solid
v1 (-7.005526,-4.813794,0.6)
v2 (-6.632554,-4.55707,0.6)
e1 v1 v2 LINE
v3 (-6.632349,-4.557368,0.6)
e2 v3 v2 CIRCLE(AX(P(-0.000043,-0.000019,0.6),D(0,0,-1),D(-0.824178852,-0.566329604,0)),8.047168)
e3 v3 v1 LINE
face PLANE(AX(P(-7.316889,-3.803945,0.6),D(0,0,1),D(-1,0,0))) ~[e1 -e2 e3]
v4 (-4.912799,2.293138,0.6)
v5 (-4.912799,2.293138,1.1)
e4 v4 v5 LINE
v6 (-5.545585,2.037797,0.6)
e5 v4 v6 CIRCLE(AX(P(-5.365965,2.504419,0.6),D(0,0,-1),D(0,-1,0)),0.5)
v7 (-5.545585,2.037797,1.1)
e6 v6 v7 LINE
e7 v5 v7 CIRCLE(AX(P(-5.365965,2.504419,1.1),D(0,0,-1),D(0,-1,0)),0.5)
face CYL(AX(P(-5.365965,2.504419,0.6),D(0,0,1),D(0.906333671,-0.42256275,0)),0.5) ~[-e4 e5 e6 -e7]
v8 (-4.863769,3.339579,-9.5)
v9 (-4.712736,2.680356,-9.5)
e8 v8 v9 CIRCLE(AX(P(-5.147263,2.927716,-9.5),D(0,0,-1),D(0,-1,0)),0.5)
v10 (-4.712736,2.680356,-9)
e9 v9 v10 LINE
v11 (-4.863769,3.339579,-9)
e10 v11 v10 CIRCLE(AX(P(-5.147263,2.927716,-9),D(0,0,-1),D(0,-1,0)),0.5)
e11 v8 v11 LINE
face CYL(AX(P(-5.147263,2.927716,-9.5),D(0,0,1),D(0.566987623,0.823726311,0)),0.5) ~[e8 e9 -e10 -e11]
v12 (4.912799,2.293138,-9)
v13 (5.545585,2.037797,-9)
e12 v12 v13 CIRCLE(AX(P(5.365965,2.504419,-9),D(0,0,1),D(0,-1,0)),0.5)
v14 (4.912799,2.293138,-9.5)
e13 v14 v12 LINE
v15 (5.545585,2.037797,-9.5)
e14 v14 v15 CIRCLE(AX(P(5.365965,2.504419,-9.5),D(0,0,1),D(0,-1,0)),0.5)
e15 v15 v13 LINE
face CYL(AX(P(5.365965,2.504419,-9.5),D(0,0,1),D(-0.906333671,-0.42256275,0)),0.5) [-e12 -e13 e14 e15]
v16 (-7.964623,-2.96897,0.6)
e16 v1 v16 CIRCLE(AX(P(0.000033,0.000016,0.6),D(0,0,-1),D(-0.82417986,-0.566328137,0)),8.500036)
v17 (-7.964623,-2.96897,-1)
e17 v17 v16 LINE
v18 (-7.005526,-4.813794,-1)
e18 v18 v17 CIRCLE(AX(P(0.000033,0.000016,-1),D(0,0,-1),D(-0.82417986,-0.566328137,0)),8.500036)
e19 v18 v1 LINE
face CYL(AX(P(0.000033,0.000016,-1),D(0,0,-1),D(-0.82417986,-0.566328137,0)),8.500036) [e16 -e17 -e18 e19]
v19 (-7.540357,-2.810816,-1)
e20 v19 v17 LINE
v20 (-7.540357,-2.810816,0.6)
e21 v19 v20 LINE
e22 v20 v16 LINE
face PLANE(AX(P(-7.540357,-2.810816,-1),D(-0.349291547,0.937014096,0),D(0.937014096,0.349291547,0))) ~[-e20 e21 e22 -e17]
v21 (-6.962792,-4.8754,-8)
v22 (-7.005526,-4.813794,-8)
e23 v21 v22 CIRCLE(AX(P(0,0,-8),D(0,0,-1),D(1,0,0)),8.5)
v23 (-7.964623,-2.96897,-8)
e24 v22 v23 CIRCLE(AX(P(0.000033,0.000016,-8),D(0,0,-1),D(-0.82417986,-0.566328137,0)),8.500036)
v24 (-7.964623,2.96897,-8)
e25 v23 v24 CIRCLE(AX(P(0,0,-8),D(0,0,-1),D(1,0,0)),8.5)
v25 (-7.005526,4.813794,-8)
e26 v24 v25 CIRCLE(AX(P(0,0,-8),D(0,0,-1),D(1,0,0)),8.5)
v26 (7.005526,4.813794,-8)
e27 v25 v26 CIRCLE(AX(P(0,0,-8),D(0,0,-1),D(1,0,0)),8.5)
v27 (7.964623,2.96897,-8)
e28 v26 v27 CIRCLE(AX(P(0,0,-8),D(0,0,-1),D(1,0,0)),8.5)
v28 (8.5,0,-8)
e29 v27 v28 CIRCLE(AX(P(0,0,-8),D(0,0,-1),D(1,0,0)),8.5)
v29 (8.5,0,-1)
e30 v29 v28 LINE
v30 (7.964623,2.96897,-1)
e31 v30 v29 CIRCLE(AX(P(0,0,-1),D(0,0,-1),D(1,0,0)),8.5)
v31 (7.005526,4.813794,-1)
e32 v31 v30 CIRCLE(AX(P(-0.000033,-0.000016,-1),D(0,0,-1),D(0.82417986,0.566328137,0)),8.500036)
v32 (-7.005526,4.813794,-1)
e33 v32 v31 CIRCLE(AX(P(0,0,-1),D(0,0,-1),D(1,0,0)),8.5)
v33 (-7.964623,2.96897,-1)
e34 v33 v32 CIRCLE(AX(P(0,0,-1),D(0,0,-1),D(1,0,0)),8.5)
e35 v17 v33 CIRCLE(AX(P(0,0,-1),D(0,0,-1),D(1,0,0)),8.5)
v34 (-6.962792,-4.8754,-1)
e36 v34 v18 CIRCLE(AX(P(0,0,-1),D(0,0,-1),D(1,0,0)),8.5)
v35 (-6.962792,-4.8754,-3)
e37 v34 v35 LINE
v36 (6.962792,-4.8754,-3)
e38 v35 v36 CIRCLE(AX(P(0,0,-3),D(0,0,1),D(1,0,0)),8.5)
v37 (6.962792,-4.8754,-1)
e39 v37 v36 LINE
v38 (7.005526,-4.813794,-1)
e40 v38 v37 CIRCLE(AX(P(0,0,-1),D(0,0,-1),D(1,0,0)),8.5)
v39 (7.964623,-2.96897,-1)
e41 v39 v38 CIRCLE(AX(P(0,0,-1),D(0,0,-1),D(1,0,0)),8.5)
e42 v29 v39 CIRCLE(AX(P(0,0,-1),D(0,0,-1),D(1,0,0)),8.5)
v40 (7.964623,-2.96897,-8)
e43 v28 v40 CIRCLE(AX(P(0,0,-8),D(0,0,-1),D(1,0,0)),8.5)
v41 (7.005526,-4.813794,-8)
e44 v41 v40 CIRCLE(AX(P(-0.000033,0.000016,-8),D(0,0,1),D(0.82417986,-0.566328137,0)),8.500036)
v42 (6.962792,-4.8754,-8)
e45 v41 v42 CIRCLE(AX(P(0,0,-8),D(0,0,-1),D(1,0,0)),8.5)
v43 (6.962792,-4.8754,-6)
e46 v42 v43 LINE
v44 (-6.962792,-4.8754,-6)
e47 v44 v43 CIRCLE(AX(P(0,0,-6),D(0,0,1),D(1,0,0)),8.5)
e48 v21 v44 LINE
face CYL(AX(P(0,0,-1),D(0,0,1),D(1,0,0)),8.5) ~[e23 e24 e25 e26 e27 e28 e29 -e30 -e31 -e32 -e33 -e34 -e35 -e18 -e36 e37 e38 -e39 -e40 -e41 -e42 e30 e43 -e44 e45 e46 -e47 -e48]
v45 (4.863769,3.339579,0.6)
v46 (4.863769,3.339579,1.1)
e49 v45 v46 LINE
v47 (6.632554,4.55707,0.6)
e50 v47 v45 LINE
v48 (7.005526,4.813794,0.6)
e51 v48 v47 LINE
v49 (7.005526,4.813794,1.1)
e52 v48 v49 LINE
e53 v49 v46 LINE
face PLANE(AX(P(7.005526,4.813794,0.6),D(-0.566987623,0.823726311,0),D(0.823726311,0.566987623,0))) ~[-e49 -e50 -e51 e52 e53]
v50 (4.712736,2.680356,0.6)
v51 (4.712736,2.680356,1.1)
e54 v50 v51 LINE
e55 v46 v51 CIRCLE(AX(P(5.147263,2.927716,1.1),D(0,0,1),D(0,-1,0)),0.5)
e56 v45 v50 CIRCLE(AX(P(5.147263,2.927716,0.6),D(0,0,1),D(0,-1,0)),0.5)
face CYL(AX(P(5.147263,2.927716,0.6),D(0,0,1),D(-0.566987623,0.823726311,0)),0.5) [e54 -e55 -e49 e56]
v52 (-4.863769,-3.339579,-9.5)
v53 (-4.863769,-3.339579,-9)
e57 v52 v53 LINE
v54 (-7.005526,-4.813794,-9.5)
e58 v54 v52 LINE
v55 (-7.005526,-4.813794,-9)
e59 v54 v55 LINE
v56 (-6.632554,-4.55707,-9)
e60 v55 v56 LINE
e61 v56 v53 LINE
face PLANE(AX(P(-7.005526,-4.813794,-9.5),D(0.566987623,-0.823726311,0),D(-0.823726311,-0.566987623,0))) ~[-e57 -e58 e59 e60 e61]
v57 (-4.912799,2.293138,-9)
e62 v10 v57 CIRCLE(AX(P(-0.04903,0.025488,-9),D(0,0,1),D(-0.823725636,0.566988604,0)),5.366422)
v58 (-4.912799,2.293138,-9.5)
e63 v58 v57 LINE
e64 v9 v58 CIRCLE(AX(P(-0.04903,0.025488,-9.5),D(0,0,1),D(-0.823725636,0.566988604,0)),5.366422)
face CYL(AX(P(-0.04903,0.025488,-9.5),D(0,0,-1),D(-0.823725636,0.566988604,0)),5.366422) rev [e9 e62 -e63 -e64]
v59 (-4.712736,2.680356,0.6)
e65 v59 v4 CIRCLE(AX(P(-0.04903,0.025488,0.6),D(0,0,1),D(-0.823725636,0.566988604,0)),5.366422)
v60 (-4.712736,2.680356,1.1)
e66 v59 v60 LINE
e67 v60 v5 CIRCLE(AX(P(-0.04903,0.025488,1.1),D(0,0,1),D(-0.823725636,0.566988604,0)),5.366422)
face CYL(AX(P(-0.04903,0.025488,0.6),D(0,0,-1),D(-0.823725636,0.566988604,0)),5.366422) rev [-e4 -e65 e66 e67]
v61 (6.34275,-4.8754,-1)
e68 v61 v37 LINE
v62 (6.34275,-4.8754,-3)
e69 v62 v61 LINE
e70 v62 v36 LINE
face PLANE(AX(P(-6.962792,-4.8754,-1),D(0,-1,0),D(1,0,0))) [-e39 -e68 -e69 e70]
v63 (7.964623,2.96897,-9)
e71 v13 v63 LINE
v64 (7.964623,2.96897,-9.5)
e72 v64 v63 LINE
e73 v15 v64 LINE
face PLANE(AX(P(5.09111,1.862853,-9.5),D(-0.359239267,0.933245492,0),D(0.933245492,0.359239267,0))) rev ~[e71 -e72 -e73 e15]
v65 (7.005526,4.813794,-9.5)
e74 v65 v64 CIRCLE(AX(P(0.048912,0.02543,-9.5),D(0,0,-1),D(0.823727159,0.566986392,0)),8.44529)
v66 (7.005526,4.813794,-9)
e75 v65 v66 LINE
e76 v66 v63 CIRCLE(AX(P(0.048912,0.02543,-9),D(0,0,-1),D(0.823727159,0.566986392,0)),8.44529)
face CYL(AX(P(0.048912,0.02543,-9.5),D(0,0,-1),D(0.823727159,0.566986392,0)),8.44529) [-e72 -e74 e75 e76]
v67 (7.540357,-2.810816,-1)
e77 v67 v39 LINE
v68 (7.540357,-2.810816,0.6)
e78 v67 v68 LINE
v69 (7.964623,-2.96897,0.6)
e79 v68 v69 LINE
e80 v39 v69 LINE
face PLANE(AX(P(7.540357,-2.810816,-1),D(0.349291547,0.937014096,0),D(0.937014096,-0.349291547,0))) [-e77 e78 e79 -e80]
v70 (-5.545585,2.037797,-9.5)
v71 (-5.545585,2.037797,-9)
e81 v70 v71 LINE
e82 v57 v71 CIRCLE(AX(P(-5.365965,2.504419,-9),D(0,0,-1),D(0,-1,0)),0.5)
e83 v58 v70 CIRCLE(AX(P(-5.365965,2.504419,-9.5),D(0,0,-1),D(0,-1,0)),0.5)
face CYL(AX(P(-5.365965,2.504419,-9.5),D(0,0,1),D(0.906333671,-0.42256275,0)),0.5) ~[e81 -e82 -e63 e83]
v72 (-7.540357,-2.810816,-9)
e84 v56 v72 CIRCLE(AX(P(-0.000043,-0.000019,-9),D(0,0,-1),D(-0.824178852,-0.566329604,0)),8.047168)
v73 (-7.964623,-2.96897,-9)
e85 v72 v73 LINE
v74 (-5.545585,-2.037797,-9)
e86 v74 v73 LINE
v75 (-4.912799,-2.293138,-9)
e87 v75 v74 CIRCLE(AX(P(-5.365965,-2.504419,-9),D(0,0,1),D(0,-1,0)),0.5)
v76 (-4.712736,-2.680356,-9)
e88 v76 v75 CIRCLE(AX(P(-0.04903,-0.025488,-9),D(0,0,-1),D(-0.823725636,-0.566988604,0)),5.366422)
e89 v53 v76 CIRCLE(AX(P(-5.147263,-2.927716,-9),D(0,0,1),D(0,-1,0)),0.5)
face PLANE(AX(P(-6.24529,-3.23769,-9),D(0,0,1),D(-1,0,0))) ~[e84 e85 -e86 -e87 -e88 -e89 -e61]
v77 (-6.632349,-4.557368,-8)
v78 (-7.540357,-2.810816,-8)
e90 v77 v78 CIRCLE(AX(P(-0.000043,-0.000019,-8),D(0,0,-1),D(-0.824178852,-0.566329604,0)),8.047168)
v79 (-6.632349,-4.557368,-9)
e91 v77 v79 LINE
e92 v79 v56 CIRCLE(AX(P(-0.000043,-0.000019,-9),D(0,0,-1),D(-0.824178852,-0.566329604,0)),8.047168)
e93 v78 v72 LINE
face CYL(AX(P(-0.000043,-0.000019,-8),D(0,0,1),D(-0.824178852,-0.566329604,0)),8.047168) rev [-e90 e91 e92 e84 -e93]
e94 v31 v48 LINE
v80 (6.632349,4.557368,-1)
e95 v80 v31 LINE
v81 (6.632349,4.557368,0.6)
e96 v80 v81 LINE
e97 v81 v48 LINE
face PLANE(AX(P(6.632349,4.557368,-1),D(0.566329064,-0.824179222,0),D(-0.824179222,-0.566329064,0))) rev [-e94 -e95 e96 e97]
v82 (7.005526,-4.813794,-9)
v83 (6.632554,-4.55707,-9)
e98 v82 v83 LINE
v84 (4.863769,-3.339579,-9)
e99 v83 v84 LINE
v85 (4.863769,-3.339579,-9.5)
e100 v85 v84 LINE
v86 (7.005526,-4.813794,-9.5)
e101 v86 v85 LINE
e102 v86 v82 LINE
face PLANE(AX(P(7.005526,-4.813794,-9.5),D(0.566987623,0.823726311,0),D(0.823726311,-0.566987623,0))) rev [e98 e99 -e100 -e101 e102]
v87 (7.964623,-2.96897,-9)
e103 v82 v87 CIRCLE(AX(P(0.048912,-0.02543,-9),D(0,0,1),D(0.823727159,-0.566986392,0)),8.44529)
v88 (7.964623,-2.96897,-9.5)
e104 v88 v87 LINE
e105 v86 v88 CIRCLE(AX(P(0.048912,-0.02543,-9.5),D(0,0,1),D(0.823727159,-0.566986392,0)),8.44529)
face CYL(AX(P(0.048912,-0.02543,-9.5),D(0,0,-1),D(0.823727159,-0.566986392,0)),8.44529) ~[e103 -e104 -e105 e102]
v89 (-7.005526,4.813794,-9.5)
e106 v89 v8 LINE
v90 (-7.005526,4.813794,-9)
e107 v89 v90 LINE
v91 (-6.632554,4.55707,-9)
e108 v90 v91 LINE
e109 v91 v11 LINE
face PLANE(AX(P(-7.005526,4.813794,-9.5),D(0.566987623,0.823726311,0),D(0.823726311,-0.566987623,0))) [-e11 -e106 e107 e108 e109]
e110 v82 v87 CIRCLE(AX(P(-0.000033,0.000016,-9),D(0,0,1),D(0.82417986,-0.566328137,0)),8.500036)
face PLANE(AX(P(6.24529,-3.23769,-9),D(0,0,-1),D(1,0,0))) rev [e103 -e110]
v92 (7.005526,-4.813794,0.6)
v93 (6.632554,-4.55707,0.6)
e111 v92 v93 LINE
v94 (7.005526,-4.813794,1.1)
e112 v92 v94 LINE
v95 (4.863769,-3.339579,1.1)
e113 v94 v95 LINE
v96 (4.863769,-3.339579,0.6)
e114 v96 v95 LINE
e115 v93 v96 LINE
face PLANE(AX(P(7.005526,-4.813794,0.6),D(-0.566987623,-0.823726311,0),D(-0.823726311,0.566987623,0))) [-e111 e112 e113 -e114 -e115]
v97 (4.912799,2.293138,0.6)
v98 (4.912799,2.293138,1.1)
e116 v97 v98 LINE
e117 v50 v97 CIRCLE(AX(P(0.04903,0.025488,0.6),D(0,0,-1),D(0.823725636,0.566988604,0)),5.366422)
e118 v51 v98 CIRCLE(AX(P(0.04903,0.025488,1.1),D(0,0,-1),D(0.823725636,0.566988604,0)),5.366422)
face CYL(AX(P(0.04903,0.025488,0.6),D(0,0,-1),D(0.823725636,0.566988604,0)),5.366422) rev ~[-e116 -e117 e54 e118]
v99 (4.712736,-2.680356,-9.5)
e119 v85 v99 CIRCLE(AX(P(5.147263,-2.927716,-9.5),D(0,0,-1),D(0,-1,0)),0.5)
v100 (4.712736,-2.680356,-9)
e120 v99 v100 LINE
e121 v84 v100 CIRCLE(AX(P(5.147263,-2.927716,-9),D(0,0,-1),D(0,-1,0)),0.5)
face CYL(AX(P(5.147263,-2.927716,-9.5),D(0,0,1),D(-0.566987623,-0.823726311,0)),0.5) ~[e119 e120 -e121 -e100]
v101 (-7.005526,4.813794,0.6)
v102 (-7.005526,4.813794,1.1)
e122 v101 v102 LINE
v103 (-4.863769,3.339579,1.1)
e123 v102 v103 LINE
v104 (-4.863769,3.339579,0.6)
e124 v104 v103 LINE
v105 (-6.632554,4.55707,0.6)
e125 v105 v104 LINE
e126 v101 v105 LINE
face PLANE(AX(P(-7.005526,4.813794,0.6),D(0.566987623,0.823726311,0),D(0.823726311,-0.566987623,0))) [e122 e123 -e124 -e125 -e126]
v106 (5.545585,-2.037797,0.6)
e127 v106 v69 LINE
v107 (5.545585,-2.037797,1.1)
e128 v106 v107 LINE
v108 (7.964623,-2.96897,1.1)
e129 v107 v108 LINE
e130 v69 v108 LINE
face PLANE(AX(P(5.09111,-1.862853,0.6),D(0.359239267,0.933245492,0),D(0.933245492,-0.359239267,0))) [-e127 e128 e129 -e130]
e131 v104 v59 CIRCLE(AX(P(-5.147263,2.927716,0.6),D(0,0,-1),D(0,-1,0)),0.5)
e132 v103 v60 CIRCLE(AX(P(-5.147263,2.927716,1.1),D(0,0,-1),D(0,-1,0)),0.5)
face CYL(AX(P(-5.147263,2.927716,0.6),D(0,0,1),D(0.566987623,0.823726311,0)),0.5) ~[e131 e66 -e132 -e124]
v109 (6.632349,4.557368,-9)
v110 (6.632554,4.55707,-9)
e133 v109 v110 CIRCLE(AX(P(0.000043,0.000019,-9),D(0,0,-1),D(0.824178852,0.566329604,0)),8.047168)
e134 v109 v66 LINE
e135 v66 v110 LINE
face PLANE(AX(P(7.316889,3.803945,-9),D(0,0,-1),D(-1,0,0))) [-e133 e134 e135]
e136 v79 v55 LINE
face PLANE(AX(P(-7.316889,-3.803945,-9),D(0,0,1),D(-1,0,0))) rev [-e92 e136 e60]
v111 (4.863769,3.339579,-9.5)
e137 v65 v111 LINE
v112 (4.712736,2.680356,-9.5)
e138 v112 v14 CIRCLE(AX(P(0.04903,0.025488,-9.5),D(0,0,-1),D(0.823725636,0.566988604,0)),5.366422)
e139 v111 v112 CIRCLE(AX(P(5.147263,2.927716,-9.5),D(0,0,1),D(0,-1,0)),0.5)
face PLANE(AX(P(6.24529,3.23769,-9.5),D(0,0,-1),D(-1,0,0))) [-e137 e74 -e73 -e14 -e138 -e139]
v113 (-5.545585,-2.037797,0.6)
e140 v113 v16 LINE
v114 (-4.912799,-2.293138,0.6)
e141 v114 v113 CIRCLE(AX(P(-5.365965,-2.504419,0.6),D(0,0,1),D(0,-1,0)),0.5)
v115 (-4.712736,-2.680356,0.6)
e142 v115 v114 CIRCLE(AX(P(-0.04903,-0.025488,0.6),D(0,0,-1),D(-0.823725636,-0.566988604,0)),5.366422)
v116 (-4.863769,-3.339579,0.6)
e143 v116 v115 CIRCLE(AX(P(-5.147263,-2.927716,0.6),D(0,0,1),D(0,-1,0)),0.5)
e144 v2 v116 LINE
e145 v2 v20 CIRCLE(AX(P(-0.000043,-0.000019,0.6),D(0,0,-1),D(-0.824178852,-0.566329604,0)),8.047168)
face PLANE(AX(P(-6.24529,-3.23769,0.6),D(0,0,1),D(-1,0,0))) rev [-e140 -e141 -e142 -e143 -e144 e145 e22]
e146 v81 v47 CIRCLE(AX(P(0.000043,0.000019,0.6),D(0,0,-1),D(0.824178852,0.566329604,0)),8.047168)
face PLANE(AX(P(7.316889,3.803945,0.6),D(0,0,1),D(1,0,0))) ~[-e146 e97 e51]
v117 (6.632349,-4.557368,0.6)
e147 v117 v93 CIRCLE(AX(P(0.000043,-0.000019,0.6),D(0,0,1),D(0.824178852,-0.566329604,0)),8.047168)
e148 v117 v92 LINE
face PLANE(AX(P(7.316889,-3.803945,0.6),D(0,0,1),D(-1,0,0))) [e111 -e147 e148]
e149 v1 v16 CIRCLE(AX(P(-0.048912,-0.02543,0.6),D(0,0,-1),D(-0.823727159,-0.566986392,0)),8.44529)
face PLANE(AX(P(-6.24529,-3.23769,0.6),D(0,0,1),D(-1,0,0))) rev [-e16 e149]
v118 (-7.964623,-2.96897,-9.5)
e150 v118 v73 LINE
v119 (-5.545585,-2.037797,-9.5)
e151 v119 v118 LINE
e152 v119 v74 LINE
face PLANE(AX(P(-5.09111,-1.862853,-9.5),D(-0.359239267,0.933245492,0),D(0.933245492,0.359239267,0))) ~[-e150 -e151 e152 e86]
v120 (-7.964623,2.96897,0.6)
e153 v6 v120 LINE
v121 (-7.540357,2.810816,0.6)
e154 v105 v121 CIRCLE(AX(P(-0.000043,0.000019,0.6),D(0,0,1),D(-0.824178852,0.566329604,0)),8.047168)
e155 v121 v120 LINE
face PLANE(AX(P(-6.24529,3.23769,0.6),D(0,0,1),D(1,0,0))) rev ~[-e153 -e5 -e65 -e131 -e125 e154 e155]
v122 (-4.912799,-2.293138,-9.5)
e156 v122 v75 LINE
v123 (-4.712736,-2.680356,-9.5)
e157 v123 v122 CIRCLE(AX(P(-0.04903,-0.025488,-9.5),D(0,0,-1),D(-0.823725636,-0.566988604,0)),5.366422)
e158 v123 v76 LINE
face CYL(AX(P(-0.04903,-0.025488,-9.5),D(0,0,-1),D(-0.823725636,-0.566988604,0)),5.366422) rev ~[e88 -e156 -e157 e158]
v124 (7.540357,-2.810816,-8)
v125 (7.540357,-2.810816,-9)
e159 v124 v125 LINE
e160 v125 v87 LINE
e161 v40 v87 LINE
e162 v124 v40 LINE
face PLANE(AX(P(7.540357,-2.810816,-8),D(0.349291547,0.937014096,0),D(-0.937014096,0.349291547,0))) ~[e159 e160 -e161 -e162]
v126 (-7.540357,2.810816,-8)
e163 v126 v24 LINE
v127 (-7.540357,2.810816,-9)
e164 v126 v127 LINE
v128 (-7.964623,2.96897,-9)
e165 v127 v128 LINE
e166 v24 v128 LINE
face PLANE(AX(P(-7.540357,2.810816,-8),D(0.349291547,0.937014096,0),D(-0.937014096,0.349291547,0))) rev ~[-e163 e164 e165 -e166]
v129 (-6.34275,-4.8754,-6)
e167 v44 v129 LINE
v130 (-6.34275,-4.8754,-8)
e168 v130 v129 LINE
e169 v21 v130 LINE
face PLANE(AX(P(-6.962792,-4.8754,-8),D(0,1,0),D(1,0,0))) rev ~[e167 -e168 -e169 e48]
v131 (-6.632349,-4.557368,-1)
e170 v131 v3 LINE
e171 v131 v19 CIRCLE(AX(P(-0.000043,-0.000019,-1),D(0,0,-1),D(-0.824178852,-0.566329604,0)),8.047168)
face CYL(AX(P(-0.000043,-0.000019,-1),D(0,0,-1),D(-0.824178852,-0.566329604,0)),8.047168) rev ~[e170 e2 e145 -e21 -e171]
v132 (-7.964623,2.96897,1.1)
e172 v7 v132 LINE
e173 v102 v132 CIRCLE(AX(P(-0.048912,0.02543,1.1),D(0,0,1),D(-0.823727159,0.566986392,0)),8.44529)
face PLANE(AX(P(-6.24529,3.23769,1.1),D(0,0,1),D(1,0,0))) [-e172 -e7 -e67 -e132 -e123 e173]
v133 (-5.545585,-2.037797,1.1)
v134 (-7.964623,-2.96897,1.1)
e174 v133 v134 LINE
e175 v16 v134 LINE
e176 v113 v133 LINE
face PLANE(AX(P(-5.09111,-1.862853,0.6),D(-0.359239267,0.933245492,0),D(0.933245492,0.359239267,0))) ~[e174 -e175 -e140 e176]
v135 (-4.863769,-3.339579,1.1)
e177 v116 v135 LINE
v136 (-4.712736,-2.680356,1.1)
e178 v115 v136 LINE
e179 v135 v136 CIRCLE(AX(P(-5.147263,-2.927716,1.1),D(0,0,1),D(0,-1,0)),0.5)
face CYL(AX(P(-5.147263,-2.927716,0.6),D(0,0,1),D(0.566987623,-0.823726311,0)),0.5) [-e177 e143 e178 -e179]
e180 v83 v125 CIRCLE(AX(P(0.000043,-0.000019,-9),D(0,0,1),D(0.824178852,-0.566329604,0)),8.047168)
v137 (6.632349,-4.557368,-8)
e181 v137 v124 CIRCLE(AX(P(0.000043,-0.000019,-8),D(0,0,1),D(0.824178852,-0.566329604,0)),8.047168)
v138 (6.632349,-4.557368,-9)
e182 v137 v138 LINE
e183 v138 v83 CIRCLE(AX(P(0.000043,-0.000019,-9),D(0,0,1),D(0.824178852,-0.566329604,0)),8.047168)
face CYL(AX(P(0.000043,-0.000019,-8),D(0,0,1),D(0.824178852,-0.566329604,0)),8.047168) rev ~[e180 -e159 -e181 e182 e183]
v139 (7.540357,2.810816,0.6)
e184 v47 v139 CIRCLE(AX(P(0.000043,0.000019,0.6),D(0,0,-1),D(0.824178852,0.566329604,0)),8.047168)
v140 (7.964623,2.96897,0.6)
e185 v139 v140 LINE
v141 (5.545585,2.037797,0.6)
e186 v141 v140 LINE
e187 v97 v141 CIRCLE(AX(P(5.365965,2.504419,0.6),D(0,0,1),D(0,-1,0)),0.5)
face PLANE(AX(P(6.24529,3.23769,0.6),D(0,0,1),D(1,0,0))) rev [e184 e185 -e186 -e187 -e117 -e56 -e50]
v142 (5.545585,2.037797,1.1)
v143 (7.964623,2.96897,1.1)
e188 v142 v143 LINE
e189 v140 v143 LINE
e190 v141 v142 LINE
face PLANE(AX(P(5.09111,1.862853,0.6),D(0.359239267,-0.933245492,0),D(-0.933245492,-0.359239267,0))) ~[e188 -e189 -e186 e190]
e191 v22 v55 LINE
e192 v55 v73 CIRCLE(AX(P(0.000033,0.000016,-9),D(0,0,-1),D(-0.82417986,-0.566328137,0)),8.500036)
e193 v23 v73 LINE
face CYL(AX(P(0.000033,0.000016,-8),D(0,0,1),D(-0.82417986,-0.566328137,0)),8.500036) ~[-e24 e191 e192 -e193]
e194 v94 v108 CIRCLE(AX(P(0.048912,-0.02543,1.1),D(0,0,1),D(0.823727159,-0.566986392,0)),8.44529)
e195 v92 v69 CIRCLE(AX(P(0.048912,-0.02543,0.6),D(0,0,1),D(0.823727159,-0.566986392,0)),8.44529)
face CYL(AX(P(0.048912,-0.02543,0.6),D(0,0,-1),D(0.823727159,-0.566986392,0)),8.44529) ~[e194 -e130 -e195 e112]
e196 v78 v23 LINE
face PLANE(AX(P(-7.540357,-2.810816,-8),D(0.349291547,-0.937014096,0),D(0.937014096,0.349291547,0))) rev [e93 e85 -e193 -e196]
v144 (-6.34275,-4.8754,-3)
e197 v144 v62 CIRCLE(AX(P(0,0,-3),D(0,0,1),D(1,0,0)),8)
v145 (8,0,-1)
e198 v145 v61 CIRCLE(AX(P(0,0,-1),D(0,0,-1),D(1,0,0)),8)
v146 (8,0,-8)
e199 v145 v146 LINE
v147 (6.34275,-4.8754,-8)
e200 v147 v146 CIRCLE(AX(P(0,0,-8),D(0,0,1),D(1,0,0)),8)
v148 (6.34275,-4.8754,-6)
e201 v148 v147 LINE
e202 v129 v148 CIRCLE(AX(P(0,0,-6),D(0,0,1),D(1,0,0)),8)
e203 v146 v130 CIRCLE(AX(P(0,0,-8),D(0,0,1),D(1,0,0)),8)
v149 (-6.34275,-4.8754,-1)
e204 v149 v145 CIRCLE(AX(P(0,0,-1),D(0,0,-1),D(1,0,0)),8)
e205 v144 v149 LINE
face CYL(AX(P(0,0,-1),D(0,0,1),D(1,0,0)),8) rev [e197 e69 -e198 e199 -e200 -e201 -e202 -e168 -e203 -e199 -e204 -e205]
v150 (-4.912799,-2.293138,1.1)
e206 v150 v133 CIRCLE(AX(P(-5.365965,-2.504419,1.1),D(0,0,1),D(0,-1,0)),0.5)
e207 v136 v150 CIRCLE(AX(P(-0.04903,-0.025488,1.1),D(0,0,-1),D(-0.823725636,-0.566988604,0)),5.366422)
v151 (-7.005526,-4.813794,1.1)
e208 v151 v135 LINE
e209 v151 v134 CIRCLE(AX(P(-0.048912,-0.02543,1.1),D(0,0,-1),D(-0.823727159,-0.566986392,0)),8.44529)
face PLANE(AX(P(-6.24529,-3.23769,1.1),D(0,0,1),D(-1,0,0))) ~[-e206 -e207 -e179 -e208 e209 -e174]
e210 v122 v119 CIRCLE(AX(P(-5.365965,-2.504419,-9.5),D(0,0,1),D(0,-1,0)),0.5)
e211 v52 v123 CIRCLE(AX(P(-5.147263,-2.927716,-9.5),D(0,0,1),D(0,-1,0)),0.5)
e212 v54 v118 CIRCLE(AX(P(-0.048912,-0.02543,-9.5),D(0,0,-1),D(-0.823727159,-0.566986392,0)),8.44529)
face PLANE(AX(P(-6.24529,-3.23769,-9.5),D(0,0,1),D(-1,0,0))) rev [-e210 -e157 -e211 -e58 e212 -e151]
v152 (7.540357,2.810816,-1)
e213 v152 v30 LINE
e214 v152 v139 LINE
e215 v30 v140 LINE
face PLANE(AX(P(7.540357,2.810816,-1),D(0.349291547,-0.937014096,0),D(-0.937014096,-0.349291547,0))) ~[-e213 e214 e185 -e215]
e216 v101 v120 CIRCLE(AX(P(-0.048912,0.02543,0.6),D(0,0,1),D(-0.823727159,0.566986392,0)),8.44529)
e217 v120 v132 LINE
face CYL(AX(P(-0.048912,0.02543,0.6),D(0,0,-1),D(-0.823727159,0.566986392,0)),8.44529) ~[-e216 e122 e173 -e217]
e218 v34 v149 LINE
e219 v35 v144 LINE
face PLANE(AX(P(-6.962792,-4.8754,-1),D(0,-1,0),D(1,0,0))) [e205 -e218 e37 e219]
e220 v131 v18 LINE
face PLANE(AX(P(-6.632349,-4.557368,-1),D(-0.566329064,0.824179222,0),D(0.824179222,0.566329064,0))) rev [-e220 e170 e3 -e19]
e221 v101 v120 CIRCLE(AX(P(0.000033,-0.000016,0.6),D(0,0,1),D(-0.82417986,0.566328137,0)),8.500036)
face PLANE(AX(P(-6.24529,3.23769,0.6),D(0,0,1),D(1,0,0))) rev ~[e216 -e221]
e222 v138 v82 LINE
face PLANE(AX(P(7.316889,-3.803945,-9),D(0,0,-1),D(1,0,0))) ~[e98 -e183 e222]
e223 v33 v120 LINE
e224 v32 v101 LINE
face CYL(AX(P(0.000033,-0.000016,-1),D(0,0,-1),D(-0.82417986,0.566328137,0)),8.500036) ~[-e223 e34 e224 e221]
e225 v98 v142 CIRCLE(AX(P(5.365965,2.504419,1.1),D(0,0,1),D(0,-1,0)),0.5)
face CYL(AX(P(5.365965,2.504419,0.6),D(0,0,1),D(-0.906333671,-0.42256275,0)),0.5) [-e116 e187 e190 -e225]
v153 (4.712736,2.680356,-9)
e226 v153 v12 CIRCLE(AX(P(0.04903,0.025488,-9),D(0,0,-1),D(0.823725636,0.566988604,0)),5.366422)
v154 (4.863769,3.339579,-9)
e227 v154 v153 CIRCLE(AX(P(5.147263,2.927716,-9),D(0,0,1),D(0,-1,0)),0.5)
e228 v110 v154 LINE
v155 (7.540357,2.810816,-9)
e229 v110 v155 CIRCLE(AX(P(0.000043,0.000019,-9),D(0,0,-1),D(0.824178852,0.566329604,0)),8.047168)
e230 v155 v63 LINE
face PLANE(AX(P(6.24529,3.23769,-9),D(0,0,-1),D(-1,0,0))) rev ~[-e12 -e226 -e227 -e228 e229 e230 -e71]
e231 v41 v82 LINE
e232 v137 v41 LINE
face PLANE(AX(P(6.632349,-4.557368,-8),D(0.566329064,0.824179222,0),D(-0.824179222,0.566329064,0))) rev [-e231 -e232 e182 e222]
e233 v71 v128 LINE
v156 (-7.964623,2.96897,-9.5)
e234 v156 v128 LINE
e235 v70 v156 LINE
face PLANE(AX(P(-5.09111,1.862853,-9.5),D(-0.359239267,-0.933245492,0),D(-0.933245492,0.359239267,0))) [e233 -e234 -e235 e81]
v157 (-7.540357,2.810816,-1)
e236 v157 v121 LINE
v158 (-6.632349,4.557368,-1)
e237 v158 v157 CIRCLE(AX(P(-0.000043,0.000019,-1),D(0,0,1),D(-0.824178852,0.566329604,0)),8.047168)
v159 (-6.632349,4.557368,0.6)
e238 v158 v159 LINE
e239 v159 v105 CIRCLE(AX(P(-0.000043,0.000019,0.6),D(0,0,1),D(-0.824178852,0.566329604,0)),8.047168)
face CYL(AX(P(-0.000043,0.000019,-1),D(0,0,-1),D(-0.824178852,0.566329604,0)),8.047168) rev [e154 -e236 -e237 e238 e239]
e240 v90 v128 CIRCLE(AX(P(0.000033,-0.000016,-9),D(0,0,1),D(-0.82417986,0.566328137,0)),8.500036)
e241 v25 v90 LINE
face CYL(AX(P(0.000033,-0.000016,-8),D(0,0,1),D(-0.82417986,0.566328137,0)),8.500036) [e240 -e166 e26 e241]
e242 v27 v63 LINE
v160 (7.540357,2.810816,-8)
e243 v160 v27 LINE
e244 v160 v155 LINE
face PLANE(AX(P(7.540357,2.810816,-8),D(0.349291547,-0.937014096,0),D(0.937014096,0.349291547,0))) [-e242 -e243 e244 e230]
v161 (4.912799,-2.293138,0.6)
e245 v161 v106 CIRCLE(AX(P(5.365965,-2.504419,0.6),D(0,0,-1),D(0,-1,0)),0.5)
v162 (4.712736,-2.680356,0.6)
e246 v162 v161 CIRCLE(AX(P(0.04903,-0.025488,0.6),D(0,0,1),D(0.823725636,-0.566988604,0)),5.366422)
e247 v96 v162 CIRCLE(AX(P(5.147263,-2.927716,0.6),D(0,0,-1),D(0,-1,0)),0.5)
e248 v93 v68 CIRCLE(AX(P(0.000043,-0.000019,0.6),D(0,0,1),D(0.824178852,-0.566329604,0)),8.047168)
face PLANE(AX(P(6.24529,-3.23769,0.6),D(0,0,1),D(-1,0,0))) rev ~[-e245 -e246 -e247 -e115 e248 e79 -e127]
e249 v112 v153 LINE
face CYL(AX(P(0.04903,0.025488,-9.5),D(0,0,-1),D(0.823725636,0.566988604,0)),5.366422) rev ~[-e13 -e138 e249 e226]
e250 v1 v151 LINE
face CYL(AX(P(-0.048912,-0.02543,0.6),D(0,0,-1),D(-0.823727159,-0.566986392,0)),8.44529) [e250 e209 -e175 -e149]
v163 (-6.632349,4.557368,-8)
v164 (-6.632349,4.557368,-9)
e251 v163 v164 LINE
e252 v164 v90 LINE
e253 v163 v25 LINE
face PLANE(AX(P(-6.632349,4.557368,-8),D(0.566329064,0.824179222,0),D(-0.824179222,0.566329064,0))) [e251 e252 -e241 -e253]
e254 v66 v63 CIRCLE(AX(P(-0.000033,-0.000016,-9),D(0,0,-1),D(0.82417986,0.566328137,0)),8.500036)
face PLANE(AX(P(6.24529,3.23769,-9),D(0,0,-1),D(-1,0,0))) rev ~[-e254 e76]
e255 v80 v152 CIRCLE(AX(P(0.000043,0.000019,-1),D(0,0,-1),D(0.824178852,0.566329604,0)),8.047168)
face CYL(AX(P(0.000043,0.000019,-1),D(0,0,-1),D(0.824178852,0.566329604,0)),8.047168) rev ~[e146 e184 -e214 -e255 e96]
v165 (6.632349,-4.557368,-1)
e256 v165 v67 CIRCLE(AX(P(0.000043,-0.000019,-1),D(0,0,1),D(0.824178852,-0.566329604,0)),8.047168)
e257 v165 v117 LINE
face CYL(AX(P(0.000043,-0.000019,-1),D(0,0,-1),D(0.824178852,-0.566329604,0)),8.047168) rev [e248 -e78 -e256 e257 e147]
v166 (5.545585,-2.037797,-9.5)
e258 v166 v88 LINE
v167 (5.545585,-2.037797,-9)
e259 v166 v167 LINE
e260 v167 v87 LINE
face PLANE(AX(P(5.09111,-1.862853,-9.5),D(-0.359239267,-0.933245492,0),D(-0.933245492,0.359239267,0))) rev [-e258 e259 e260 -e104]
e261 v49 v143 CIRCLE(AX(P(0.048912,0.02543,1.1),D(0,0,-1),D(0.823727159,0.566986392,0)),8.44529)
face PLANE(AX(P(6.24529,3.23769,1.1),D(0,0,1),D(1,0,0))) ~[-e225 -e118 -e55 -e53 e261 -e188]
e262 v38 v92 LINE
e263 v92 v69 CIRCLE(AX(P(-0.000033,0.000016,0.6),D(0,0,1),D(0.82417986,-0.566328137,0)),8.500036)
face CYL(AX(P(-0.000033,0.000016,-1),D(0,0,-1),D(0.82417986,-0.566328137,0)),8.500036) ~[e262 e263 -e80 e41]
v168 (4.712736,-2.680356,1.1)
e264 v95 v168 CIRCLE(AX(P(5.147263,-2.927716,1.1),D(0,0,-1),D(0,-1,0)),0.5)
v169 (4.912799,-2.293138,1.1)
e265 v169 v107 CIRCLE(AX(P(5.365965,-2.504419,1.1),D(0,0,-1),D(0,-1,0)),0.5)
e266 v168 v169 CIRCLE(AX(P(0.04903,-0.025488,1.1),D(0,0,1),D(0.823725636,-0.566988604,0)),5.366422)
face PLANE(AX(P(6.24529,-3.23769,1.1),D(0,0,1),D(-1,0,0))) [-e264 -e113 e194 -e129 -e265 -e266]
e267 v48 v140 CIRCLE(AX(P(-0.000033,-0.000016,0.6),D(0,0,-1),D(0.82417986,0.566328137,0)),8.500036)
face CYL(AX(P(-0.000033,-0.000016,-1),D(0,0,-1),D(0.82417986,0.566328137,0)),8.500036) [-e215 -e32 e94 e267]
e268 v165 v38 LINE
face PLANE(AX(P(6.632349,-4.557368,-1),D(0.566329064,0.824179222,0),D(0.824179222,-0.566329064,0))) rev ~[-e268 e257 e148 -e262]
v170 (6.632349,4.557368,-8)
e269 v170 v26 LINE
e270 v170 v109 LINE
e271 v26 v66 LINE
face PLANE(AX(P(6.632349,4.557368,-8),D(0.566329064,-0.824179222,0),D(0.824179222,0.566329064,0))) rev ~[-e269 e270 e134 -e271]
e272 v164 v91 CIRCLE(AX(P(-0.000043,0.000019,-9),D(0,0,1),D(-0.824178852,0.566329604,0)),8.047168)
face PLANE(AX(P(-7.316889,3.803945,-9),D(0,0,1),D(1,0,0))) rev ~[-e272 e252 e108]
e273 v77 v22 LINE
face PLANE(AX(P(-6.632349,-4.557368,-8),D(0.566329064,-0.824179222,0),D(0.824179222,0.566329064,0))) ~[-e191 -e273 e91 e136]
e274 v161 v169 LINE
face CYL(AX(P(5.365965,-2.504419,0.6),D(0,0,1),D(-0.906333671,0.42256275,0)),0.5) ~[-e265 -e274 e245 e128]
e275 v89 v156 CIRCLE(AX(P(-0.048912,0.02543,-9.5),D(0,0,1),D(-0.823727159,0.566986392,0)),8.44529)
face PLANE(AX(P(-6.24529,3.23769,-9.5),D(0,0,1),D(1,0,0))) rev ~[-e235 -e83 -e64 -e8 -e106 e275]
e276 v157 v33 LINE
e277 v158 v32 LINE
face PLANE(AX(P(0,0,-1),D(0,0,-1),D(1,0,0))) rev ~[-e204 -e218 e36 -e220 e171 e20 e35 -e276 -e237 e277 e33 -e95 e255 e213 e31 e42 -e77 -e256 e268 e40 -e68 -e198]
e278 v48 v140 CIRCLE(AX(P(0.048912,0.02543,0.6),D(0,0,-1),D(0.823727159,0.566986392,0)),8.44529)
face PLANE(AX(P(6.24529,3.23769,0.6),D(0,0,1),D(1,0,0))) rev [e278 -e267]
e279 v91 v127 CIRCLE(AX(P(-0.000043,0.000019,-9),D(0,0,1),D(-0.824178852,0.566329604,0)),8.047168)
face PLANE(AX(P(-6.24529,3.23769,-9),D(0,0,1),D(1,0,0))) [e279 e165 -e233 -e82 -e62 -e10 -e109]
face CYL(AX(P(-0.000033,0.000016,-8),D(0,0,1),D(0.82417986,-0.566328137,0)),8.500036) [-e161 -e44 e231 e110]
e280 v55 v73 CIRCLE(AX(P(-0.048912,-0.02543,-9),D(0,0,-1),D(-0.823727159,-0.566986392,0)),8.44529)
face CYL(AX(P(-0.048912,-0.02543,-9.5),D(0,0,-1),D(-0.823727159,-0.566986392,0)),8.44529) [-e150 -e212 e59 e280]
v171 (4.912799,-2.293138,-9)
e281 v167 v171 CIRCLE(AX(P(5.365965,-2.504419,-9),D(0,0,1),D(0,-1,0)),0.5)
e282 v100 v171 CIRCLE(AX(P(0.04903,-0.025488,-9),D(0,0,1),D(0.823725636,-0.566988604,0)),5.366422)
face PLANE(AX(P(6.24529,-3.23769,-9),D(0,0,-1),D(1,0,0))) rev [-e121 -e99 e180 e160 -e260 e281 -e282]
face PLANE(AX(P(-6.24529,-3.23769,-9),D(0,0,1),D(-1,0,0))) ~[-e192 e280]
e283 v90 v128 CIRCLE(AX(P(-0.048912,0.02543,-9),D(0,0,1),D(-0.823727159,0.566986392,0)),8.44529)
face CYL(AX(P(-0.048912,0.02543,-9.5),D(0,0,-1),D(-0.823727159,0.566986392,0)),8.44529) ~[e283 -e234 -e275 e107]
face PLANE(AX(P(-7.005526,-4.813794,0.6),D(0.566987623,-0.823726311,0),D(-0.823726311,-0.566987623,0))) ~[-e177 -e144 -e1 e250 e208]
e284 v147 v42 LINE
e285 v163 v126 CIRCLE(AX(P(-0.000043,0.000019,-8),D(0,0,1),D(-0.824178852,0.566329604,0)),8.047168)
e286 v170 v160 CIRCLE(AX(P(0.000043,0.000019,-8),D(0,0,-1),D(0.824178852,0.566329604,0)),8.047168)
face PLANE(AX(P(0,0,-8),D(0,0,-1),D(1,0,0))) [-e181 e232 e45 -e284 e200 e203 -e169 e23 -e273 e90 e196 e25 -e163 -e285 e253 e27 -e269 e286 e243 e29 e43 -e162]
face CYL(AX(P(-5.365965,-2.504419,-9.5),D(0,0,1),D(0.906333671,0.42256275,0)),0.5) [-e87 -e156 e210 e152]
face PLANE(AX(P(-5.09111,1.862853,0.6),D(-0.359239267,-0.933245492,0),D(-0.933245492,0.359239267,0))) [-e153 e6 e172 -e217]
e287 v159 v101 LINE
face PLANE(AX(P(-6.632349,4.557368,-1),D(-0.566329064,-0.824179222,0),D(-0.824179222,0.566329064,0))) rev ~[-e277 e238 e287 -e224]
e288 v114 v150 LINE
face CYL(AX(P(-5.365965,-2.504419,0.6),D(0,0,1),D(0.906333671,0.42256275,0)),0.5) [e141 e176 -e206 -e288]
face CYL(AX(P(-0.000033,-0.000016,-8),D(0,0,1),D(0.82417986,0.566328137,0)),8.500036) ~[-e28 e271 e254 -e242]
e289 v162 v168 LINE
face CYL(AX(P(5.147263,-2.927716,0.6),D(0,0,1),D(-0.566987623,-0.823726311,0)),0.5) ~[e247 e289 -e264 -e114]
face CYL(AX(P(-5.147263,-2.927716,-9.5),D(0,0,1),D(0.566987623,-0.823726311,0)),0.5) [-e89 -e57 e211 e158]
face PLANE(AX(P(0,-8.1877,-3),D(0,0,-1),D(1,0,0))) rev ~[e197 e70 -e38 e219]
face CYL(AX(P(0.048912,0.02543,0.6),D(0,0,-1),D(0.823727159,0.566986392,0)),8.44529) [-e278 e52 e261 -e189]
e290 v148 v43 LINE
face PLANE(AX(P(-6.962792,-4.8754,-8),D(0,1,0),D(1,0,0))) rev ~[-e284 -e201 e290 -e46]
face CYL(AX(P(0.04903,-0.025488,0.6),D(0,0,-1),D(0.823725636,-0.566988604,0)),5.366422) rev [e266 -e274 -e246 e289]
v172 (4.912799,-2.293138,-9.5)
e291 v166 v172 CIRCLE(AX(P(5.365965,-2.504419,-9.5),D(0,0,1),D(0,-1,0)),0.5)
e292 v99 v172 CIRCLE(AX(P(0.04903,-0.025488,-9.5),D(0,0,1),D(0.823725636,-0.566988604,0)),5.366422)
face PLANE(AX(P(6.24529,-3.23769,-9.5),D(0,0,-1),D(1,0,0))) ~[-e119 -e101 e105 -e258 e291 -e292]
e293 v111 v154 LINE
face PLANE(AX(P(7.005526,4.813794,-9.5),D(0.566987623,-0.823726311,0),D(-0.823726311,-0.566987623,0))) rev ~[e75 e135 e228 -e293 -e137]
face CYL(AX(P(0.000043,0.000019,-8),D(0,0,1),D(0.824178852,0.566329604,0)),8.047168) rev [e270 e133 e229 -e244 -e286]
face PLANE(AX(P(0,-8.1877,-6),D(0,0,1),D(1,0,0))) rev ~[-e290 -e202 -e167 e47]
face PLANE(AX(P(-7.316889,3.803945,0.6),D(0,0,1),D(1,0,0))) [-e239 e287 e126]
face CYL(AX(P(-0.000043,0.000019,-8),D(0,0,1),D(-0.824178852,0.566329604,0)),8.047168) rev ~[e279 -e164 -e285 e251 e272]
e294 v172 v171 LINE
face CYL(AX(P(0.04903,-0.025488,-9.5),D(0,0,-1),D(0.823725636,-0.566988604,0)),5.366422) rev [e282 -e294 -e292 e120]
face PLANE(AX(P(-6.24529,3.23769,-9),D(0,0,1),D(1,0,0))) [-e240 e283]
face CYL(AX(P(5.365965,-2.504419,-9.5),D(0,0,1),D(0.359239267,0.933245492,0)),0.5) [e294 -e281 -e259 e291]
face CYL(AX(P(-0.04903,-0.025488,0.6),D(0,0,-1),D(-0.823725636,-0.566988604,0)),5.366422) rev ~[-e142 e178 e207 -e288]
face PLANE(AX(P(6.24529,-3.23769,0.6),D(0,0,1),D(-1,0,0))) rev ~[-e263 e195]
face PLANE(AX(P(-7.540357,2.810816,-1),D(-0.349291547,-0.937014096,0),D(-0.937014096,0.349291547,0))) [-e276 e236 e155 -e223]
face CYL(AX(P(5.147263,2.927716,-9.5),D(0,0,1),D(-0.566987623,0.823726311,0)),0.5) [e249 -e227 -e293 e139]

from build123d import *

# Parameters (mm, degrees)
SKETCH007_R                    = 8.5
PAD006_DEPTH                   = 7
THICKNESS_T                    = -0.5
PAD007_DEPTH                   = 1.6
PAD007_POLARPATTERN_2_DEPTH    = 1.6
PAD008_DEPTH                   = 0.5
PAD008_POLARPATTERN001_2_DEPTH = 0.5
SKETCH011_W                    = 13.925584
SKETCH011_H                    = 6.6246
POCKET001_DEPTH                = 2
SKETCH013_W                    = 13.925584
SKETCH013_H                    = 6.6246
POCKET002_DEPTH                = 2
SKETCH014_R                    = 8
POCKET003_DEPTH                = 0.5
PAD009_DEPTH                   = 1
PAD009_MIRRORED002_2_DEPTH     = 1
PAD010_DEPTH                   = 0.5
PAD010_MIRRORED004_2_DEPTH     = 0.5
FILLET_R                       = 0.5


with BuildPart() as part:
    # Sketch007 (on DatumPlane) → Pad006 (new body)
    with BuildSketch(Plane(origin=(0, 0, -1), x_dir=(1, 0, 0), z_dir=(0, 0, -1))):
        Circle(SKETCH007_R)
    extrude(amount=PAD006_DEPTH)

    # Thickness
    thickness_openings = [part.faces().sort_by_distance(p)[0] for p in [
        (0, 0, -1),
    ]]
    offset(amount=THICKNESS_T, openings=thickness_openings)

    # Sketch008 (on Face3 of Thickness) → Pad007 (join)
    with BuildSketch(Plane.XY.offset(-1)):
        with BuildLine():
            ThreePointArc((-7.005526, 4.813794), (-7.541696, 3.920819), (-7.964623, 2.96897))
            Line((-7.540357, 2.810816), (-7.964623, 2.96897))
            ThreePointArc((-6.632349, 4.557368), (-7.139959, 3.711961), (-7.540357, 2.810816))
            Line((-6.632349, 4.557368), (-7.005526, 4.813794))
        make_face()
    pad007 = extrude(amount=PAD007_DEPTH)

    # Sketch008 PolarPattern 2 → Pad007 PolarPattern 2 (add)
    with BuildSketch(Plane(origin=(0, 0, -1), x_dir=(-1, 0, 0), z_dir=(0, 0, 1))):
        with BuildLine():
            ThreePointArc((-7.005526, 4.813794), (-7.541696, 3.920819), (-7.964623, 2.96897))
            Line((-7.540357, 2.810816), (-7.964623, 2.96897))
            ThreePointArc((-6.632349, 4.557368), (-7.139959, 3.711961), (-7.540357, 2.810816))
            Line((-6.632349, 4.557368), (-7.005526, 4.813794))
        make_face()
    pad007_polarpattern_2 = extrude(amount=PAD007_POLARPATTERN_2_DEPTH)

    # Mirrored: Pad007, Pad007 PolarPattern 2 across Sketch008 V_Axis
    add(pad007.mirror(Plane(origin=(0, 0, -1), x_dir=(0, 0, 1), z_dir=(1, 0, 0))))
    add(pad007_polarpattern_2.mirror(Plane(origin=(0, 0, -1), x_dir=(0, 0, 1), z_dir=(1, 0, 0))))

    # Sketch009 (on Face23 of MultiTransform) → Pad008 (join)
    with BuildSketch(Plane.XY.offset(0.6)):
        with BuildLine():
            ThreePointArc((-7.005526, 4.813794), (-7.542066, 3.921011), (-7.964623, 2.96897))
            Line((-5.09111, 1.862853), (-7.964623, 2.96897))
            ThreePointArc((-4.469489, 3.068188), (-4.818529, 2.485236), (-5.09111, 1.862853))
            Line((-7.005526, 4.813794), (-4.469489, 3.068188))
        make_face()
    pad008 = extrude(amount=PAD008_DEPTH)

    # Sketch009 PolarPattern001 2 → Pad008 PolarPattern001 2 (add)
    with BuildSketch(Plane(origin=(0, 0, 0.6), x_dir=(-1, 0, 0), z_dir=(0, 0, 1))):
        with BuildLine():
            ThreePointArc((-7.005526, 4.813794), (-7.542066, 3.921011), (-7.964623, 2.96897))
            Line((-5.09111, 1.862853), (-7.964623, 2.96897))
            ThreePointArc((-4.469489, 3.068188), (-4.818529, 2.485236), (-5.09111, 1.862853))
            Line((-7.005526, 4.813794), (-4.469489, 3.068188))
        make_face()
    pad008_polarpattern001_2 = extrude(amount=PAD008_POLARPATTERN001_2_DEPTH)

    # Mirrored001: Pad008, Pad008 PolarPattern001 2 across Sketch009 V_Axis
    add(pad008.mirror(Plane(origin=(0, 0, 0.6), x_dir=(0, 0, 1), z_dir=(1, 0, 0))))
    add(pad008_polarpattern001_2.mirror(Plane(origin=(0, 0, 0.6), x_dir=(0, 0, 1), z_dir=(1, 0, 0))))

    # Sketch011 (on Face1 of ShapeBinder001) → Pocket001 (cut)
    with BuildSketch(Plane(origin=(0, 0, -1), x_dir=(1, 0, 0), z_dir=(0, 0, -1))):
        with Locations((0, 8.1877)):
            Rectangle(SKETCH011_W, SKETCH011_H)
    extrude(amount=POCKET001_DEPTH, mode=Mode.SUBTRACT)

    # Sketch013 → Pocket002 (cut)
    with BuildSketch(Plane.XY.offset(-8)):
        with Locations((0, -8.1877)):
            Rectangle(SKETCH013_W, SKETCH013_H)
    extrude(amount=POCKET002_DEPTH, mode=Mode.SUBTRACT)

    # Sketch014 → Pocket003 (cut)
    with BuildSketch(Plane.XY.offset(-8)):
        Circle(SKETCH014_R)
    extrude(amount=POCKET003_DEPTH, mode=Mode.SUBTRACT)

    # Sketch012 → Pad009 (join)
    with BuildSketch(Plane.XY.offset(-8)):
        with BuildLine():
            ThreePointArc((-7.005526, 4.813794), (-7.541696, 3.920819), (-7.964623, 2.96897))
            Line((-7.540357, 2.810816), (-7.964623, 2.96897))
            ThreePointArc((-6.632349, 4.557368), (-7.139959, 3.711961), (-7.540357, 2.810816))
            Line((-6.632349, 4.557368), (-7.005526, 4.813794))
        make_face()
    pad009 = extrude(amount=-PAD009_DEPTH)

    # Sketch012 Mirrored002 2 → Pad009 Mirrored002 2 (add)
    with BuildSketch(Plane(origin=(0, 0, -8), x_dir=(-1, 0, 0), z_dir=(0, 0, -1))):
        with BuildLine():
            ThreePointArc((-7.005526, 4.813794), (-7.541696, 3.920819), (-7.964623, 2.96897))
            Line((-7.540357, 2.810816), (-7.964623, 2.96897))
            ThreePointArc((-6.632349, 4.557368), (-7.139959, 3.711961), (-7.540357, 2.810816))
            Line((-6.632349, 4.557368), (-7.005526, 4.813794))
        make_face()
    pad009_mirrored002_2 = extrude(amount=PAD009_MIRRORED002_2_DEPTH)

    # Mirrored003: Pad009, Pad009 Mirrored002 2 across Sketch012 H_Axis
    add(pad009.mirror(Plane(origin=(0, 0, -8), x_dir=(0, 0, 1), z_dir=(0, 1, 0))))
    add(pad009_mirrored002_2.mirror(Plane(origin=(0, 0, -8), x_dir=(0, 0, 1), z_dir=(0, 1, 0))))

    # Sketch015 → Pad010 (join)
    with BuildSketch(Plane.XY.offset(-9.5)):
        with BuildLine():
            ThreePointArc((-7.005526, 4.813794), (-7.542066, 3.921011), (-7.964623, 2.96897))
            Line((-5.09111, 1.862853), (-7.964623, 2.96897))
            ThreePointArc((-4.469489, 3.068188), (-4.818529, 2.485236), (-5.09111, 1.862853))
            Line((-7.005526, 4.813794), (-4.469489, 3.068188))
        make_face()
    pad010 = extrude(amount=PAD010_DEPTH)

    # Sketch015 Mirrored004 2 → Pad010 Mirrored004 2 (add)
    with BuildSketch(Plane(origin=(0, 0, -9.5), x_dir=(-1, 0, 0), z_dir=(0, 0, -1))):
        with BuildLine():
            ThreePointArc((-7.005526, 4.813794), (-7.542066, 3.921011), (-7.964623, 2.96897))
            Line((-5.09111, 1.862853), (-7.964623, 2.96897))
            ThreePointArc((-4.469489, 3.068188), (-4.818529, 2.485236), (-5.09111, 1.862853))
            Line((-7.005526, 4.813794), (-4.469489, 3.068188))
        make_face()
    pad010_mirrored004_2 = extrude(amount=-PAD010_MIRRORED004_2_DEPTH)

    # Mirrored005: Pad010, Pad010 Mirrored004 2 across Sketch015 H_Axis
    add(pad010.mirror(Plane(origin=(0, 0, -9.5), x_dir=(0, 0, 1), z_dir=(0, 1, 0))))
    add(pad010_mirrored004_2.mirror(Plane(origin=(0, 0, -9.5), x_dir=(0, 0, 1), z_dir=(0, 1, 0))))

    # Fillet
    fillet_edges = [part.edges().sort_by_distance(p)[0] for p in [
        (-4.469489, 3.068188, 0.85),
        (-5.09111, 1.862853, 0.85),
        (-5.09111, -1.862853, 0.85),
        (-4.469489, -3.068188, 0.85),
        (4.469489, 3.068188, 0.85),
        (5.09111, 1.862853, 0.85),
        (5.09111, -1.862853, 0.85),
        (4.469489, -3.068188, 0.85),
        (-4.469489, 3.068188, -9.25),
        (-5.09111, 1.862853, -9.25),
        (4.469489, 3.068188, -9.25),
        (5.09111, 1.862853, -9.25),
        (-5.09111, -1.862853, -9.25),
        (-4.469489, -3.068188, -9.25),
        (5.09111, -1.862853, -9.25),
        (4.469489, -3.068188, -9.25),
    ]]
    fillet(fillet_edges, radius=FILLET_R)


solid = part.part
